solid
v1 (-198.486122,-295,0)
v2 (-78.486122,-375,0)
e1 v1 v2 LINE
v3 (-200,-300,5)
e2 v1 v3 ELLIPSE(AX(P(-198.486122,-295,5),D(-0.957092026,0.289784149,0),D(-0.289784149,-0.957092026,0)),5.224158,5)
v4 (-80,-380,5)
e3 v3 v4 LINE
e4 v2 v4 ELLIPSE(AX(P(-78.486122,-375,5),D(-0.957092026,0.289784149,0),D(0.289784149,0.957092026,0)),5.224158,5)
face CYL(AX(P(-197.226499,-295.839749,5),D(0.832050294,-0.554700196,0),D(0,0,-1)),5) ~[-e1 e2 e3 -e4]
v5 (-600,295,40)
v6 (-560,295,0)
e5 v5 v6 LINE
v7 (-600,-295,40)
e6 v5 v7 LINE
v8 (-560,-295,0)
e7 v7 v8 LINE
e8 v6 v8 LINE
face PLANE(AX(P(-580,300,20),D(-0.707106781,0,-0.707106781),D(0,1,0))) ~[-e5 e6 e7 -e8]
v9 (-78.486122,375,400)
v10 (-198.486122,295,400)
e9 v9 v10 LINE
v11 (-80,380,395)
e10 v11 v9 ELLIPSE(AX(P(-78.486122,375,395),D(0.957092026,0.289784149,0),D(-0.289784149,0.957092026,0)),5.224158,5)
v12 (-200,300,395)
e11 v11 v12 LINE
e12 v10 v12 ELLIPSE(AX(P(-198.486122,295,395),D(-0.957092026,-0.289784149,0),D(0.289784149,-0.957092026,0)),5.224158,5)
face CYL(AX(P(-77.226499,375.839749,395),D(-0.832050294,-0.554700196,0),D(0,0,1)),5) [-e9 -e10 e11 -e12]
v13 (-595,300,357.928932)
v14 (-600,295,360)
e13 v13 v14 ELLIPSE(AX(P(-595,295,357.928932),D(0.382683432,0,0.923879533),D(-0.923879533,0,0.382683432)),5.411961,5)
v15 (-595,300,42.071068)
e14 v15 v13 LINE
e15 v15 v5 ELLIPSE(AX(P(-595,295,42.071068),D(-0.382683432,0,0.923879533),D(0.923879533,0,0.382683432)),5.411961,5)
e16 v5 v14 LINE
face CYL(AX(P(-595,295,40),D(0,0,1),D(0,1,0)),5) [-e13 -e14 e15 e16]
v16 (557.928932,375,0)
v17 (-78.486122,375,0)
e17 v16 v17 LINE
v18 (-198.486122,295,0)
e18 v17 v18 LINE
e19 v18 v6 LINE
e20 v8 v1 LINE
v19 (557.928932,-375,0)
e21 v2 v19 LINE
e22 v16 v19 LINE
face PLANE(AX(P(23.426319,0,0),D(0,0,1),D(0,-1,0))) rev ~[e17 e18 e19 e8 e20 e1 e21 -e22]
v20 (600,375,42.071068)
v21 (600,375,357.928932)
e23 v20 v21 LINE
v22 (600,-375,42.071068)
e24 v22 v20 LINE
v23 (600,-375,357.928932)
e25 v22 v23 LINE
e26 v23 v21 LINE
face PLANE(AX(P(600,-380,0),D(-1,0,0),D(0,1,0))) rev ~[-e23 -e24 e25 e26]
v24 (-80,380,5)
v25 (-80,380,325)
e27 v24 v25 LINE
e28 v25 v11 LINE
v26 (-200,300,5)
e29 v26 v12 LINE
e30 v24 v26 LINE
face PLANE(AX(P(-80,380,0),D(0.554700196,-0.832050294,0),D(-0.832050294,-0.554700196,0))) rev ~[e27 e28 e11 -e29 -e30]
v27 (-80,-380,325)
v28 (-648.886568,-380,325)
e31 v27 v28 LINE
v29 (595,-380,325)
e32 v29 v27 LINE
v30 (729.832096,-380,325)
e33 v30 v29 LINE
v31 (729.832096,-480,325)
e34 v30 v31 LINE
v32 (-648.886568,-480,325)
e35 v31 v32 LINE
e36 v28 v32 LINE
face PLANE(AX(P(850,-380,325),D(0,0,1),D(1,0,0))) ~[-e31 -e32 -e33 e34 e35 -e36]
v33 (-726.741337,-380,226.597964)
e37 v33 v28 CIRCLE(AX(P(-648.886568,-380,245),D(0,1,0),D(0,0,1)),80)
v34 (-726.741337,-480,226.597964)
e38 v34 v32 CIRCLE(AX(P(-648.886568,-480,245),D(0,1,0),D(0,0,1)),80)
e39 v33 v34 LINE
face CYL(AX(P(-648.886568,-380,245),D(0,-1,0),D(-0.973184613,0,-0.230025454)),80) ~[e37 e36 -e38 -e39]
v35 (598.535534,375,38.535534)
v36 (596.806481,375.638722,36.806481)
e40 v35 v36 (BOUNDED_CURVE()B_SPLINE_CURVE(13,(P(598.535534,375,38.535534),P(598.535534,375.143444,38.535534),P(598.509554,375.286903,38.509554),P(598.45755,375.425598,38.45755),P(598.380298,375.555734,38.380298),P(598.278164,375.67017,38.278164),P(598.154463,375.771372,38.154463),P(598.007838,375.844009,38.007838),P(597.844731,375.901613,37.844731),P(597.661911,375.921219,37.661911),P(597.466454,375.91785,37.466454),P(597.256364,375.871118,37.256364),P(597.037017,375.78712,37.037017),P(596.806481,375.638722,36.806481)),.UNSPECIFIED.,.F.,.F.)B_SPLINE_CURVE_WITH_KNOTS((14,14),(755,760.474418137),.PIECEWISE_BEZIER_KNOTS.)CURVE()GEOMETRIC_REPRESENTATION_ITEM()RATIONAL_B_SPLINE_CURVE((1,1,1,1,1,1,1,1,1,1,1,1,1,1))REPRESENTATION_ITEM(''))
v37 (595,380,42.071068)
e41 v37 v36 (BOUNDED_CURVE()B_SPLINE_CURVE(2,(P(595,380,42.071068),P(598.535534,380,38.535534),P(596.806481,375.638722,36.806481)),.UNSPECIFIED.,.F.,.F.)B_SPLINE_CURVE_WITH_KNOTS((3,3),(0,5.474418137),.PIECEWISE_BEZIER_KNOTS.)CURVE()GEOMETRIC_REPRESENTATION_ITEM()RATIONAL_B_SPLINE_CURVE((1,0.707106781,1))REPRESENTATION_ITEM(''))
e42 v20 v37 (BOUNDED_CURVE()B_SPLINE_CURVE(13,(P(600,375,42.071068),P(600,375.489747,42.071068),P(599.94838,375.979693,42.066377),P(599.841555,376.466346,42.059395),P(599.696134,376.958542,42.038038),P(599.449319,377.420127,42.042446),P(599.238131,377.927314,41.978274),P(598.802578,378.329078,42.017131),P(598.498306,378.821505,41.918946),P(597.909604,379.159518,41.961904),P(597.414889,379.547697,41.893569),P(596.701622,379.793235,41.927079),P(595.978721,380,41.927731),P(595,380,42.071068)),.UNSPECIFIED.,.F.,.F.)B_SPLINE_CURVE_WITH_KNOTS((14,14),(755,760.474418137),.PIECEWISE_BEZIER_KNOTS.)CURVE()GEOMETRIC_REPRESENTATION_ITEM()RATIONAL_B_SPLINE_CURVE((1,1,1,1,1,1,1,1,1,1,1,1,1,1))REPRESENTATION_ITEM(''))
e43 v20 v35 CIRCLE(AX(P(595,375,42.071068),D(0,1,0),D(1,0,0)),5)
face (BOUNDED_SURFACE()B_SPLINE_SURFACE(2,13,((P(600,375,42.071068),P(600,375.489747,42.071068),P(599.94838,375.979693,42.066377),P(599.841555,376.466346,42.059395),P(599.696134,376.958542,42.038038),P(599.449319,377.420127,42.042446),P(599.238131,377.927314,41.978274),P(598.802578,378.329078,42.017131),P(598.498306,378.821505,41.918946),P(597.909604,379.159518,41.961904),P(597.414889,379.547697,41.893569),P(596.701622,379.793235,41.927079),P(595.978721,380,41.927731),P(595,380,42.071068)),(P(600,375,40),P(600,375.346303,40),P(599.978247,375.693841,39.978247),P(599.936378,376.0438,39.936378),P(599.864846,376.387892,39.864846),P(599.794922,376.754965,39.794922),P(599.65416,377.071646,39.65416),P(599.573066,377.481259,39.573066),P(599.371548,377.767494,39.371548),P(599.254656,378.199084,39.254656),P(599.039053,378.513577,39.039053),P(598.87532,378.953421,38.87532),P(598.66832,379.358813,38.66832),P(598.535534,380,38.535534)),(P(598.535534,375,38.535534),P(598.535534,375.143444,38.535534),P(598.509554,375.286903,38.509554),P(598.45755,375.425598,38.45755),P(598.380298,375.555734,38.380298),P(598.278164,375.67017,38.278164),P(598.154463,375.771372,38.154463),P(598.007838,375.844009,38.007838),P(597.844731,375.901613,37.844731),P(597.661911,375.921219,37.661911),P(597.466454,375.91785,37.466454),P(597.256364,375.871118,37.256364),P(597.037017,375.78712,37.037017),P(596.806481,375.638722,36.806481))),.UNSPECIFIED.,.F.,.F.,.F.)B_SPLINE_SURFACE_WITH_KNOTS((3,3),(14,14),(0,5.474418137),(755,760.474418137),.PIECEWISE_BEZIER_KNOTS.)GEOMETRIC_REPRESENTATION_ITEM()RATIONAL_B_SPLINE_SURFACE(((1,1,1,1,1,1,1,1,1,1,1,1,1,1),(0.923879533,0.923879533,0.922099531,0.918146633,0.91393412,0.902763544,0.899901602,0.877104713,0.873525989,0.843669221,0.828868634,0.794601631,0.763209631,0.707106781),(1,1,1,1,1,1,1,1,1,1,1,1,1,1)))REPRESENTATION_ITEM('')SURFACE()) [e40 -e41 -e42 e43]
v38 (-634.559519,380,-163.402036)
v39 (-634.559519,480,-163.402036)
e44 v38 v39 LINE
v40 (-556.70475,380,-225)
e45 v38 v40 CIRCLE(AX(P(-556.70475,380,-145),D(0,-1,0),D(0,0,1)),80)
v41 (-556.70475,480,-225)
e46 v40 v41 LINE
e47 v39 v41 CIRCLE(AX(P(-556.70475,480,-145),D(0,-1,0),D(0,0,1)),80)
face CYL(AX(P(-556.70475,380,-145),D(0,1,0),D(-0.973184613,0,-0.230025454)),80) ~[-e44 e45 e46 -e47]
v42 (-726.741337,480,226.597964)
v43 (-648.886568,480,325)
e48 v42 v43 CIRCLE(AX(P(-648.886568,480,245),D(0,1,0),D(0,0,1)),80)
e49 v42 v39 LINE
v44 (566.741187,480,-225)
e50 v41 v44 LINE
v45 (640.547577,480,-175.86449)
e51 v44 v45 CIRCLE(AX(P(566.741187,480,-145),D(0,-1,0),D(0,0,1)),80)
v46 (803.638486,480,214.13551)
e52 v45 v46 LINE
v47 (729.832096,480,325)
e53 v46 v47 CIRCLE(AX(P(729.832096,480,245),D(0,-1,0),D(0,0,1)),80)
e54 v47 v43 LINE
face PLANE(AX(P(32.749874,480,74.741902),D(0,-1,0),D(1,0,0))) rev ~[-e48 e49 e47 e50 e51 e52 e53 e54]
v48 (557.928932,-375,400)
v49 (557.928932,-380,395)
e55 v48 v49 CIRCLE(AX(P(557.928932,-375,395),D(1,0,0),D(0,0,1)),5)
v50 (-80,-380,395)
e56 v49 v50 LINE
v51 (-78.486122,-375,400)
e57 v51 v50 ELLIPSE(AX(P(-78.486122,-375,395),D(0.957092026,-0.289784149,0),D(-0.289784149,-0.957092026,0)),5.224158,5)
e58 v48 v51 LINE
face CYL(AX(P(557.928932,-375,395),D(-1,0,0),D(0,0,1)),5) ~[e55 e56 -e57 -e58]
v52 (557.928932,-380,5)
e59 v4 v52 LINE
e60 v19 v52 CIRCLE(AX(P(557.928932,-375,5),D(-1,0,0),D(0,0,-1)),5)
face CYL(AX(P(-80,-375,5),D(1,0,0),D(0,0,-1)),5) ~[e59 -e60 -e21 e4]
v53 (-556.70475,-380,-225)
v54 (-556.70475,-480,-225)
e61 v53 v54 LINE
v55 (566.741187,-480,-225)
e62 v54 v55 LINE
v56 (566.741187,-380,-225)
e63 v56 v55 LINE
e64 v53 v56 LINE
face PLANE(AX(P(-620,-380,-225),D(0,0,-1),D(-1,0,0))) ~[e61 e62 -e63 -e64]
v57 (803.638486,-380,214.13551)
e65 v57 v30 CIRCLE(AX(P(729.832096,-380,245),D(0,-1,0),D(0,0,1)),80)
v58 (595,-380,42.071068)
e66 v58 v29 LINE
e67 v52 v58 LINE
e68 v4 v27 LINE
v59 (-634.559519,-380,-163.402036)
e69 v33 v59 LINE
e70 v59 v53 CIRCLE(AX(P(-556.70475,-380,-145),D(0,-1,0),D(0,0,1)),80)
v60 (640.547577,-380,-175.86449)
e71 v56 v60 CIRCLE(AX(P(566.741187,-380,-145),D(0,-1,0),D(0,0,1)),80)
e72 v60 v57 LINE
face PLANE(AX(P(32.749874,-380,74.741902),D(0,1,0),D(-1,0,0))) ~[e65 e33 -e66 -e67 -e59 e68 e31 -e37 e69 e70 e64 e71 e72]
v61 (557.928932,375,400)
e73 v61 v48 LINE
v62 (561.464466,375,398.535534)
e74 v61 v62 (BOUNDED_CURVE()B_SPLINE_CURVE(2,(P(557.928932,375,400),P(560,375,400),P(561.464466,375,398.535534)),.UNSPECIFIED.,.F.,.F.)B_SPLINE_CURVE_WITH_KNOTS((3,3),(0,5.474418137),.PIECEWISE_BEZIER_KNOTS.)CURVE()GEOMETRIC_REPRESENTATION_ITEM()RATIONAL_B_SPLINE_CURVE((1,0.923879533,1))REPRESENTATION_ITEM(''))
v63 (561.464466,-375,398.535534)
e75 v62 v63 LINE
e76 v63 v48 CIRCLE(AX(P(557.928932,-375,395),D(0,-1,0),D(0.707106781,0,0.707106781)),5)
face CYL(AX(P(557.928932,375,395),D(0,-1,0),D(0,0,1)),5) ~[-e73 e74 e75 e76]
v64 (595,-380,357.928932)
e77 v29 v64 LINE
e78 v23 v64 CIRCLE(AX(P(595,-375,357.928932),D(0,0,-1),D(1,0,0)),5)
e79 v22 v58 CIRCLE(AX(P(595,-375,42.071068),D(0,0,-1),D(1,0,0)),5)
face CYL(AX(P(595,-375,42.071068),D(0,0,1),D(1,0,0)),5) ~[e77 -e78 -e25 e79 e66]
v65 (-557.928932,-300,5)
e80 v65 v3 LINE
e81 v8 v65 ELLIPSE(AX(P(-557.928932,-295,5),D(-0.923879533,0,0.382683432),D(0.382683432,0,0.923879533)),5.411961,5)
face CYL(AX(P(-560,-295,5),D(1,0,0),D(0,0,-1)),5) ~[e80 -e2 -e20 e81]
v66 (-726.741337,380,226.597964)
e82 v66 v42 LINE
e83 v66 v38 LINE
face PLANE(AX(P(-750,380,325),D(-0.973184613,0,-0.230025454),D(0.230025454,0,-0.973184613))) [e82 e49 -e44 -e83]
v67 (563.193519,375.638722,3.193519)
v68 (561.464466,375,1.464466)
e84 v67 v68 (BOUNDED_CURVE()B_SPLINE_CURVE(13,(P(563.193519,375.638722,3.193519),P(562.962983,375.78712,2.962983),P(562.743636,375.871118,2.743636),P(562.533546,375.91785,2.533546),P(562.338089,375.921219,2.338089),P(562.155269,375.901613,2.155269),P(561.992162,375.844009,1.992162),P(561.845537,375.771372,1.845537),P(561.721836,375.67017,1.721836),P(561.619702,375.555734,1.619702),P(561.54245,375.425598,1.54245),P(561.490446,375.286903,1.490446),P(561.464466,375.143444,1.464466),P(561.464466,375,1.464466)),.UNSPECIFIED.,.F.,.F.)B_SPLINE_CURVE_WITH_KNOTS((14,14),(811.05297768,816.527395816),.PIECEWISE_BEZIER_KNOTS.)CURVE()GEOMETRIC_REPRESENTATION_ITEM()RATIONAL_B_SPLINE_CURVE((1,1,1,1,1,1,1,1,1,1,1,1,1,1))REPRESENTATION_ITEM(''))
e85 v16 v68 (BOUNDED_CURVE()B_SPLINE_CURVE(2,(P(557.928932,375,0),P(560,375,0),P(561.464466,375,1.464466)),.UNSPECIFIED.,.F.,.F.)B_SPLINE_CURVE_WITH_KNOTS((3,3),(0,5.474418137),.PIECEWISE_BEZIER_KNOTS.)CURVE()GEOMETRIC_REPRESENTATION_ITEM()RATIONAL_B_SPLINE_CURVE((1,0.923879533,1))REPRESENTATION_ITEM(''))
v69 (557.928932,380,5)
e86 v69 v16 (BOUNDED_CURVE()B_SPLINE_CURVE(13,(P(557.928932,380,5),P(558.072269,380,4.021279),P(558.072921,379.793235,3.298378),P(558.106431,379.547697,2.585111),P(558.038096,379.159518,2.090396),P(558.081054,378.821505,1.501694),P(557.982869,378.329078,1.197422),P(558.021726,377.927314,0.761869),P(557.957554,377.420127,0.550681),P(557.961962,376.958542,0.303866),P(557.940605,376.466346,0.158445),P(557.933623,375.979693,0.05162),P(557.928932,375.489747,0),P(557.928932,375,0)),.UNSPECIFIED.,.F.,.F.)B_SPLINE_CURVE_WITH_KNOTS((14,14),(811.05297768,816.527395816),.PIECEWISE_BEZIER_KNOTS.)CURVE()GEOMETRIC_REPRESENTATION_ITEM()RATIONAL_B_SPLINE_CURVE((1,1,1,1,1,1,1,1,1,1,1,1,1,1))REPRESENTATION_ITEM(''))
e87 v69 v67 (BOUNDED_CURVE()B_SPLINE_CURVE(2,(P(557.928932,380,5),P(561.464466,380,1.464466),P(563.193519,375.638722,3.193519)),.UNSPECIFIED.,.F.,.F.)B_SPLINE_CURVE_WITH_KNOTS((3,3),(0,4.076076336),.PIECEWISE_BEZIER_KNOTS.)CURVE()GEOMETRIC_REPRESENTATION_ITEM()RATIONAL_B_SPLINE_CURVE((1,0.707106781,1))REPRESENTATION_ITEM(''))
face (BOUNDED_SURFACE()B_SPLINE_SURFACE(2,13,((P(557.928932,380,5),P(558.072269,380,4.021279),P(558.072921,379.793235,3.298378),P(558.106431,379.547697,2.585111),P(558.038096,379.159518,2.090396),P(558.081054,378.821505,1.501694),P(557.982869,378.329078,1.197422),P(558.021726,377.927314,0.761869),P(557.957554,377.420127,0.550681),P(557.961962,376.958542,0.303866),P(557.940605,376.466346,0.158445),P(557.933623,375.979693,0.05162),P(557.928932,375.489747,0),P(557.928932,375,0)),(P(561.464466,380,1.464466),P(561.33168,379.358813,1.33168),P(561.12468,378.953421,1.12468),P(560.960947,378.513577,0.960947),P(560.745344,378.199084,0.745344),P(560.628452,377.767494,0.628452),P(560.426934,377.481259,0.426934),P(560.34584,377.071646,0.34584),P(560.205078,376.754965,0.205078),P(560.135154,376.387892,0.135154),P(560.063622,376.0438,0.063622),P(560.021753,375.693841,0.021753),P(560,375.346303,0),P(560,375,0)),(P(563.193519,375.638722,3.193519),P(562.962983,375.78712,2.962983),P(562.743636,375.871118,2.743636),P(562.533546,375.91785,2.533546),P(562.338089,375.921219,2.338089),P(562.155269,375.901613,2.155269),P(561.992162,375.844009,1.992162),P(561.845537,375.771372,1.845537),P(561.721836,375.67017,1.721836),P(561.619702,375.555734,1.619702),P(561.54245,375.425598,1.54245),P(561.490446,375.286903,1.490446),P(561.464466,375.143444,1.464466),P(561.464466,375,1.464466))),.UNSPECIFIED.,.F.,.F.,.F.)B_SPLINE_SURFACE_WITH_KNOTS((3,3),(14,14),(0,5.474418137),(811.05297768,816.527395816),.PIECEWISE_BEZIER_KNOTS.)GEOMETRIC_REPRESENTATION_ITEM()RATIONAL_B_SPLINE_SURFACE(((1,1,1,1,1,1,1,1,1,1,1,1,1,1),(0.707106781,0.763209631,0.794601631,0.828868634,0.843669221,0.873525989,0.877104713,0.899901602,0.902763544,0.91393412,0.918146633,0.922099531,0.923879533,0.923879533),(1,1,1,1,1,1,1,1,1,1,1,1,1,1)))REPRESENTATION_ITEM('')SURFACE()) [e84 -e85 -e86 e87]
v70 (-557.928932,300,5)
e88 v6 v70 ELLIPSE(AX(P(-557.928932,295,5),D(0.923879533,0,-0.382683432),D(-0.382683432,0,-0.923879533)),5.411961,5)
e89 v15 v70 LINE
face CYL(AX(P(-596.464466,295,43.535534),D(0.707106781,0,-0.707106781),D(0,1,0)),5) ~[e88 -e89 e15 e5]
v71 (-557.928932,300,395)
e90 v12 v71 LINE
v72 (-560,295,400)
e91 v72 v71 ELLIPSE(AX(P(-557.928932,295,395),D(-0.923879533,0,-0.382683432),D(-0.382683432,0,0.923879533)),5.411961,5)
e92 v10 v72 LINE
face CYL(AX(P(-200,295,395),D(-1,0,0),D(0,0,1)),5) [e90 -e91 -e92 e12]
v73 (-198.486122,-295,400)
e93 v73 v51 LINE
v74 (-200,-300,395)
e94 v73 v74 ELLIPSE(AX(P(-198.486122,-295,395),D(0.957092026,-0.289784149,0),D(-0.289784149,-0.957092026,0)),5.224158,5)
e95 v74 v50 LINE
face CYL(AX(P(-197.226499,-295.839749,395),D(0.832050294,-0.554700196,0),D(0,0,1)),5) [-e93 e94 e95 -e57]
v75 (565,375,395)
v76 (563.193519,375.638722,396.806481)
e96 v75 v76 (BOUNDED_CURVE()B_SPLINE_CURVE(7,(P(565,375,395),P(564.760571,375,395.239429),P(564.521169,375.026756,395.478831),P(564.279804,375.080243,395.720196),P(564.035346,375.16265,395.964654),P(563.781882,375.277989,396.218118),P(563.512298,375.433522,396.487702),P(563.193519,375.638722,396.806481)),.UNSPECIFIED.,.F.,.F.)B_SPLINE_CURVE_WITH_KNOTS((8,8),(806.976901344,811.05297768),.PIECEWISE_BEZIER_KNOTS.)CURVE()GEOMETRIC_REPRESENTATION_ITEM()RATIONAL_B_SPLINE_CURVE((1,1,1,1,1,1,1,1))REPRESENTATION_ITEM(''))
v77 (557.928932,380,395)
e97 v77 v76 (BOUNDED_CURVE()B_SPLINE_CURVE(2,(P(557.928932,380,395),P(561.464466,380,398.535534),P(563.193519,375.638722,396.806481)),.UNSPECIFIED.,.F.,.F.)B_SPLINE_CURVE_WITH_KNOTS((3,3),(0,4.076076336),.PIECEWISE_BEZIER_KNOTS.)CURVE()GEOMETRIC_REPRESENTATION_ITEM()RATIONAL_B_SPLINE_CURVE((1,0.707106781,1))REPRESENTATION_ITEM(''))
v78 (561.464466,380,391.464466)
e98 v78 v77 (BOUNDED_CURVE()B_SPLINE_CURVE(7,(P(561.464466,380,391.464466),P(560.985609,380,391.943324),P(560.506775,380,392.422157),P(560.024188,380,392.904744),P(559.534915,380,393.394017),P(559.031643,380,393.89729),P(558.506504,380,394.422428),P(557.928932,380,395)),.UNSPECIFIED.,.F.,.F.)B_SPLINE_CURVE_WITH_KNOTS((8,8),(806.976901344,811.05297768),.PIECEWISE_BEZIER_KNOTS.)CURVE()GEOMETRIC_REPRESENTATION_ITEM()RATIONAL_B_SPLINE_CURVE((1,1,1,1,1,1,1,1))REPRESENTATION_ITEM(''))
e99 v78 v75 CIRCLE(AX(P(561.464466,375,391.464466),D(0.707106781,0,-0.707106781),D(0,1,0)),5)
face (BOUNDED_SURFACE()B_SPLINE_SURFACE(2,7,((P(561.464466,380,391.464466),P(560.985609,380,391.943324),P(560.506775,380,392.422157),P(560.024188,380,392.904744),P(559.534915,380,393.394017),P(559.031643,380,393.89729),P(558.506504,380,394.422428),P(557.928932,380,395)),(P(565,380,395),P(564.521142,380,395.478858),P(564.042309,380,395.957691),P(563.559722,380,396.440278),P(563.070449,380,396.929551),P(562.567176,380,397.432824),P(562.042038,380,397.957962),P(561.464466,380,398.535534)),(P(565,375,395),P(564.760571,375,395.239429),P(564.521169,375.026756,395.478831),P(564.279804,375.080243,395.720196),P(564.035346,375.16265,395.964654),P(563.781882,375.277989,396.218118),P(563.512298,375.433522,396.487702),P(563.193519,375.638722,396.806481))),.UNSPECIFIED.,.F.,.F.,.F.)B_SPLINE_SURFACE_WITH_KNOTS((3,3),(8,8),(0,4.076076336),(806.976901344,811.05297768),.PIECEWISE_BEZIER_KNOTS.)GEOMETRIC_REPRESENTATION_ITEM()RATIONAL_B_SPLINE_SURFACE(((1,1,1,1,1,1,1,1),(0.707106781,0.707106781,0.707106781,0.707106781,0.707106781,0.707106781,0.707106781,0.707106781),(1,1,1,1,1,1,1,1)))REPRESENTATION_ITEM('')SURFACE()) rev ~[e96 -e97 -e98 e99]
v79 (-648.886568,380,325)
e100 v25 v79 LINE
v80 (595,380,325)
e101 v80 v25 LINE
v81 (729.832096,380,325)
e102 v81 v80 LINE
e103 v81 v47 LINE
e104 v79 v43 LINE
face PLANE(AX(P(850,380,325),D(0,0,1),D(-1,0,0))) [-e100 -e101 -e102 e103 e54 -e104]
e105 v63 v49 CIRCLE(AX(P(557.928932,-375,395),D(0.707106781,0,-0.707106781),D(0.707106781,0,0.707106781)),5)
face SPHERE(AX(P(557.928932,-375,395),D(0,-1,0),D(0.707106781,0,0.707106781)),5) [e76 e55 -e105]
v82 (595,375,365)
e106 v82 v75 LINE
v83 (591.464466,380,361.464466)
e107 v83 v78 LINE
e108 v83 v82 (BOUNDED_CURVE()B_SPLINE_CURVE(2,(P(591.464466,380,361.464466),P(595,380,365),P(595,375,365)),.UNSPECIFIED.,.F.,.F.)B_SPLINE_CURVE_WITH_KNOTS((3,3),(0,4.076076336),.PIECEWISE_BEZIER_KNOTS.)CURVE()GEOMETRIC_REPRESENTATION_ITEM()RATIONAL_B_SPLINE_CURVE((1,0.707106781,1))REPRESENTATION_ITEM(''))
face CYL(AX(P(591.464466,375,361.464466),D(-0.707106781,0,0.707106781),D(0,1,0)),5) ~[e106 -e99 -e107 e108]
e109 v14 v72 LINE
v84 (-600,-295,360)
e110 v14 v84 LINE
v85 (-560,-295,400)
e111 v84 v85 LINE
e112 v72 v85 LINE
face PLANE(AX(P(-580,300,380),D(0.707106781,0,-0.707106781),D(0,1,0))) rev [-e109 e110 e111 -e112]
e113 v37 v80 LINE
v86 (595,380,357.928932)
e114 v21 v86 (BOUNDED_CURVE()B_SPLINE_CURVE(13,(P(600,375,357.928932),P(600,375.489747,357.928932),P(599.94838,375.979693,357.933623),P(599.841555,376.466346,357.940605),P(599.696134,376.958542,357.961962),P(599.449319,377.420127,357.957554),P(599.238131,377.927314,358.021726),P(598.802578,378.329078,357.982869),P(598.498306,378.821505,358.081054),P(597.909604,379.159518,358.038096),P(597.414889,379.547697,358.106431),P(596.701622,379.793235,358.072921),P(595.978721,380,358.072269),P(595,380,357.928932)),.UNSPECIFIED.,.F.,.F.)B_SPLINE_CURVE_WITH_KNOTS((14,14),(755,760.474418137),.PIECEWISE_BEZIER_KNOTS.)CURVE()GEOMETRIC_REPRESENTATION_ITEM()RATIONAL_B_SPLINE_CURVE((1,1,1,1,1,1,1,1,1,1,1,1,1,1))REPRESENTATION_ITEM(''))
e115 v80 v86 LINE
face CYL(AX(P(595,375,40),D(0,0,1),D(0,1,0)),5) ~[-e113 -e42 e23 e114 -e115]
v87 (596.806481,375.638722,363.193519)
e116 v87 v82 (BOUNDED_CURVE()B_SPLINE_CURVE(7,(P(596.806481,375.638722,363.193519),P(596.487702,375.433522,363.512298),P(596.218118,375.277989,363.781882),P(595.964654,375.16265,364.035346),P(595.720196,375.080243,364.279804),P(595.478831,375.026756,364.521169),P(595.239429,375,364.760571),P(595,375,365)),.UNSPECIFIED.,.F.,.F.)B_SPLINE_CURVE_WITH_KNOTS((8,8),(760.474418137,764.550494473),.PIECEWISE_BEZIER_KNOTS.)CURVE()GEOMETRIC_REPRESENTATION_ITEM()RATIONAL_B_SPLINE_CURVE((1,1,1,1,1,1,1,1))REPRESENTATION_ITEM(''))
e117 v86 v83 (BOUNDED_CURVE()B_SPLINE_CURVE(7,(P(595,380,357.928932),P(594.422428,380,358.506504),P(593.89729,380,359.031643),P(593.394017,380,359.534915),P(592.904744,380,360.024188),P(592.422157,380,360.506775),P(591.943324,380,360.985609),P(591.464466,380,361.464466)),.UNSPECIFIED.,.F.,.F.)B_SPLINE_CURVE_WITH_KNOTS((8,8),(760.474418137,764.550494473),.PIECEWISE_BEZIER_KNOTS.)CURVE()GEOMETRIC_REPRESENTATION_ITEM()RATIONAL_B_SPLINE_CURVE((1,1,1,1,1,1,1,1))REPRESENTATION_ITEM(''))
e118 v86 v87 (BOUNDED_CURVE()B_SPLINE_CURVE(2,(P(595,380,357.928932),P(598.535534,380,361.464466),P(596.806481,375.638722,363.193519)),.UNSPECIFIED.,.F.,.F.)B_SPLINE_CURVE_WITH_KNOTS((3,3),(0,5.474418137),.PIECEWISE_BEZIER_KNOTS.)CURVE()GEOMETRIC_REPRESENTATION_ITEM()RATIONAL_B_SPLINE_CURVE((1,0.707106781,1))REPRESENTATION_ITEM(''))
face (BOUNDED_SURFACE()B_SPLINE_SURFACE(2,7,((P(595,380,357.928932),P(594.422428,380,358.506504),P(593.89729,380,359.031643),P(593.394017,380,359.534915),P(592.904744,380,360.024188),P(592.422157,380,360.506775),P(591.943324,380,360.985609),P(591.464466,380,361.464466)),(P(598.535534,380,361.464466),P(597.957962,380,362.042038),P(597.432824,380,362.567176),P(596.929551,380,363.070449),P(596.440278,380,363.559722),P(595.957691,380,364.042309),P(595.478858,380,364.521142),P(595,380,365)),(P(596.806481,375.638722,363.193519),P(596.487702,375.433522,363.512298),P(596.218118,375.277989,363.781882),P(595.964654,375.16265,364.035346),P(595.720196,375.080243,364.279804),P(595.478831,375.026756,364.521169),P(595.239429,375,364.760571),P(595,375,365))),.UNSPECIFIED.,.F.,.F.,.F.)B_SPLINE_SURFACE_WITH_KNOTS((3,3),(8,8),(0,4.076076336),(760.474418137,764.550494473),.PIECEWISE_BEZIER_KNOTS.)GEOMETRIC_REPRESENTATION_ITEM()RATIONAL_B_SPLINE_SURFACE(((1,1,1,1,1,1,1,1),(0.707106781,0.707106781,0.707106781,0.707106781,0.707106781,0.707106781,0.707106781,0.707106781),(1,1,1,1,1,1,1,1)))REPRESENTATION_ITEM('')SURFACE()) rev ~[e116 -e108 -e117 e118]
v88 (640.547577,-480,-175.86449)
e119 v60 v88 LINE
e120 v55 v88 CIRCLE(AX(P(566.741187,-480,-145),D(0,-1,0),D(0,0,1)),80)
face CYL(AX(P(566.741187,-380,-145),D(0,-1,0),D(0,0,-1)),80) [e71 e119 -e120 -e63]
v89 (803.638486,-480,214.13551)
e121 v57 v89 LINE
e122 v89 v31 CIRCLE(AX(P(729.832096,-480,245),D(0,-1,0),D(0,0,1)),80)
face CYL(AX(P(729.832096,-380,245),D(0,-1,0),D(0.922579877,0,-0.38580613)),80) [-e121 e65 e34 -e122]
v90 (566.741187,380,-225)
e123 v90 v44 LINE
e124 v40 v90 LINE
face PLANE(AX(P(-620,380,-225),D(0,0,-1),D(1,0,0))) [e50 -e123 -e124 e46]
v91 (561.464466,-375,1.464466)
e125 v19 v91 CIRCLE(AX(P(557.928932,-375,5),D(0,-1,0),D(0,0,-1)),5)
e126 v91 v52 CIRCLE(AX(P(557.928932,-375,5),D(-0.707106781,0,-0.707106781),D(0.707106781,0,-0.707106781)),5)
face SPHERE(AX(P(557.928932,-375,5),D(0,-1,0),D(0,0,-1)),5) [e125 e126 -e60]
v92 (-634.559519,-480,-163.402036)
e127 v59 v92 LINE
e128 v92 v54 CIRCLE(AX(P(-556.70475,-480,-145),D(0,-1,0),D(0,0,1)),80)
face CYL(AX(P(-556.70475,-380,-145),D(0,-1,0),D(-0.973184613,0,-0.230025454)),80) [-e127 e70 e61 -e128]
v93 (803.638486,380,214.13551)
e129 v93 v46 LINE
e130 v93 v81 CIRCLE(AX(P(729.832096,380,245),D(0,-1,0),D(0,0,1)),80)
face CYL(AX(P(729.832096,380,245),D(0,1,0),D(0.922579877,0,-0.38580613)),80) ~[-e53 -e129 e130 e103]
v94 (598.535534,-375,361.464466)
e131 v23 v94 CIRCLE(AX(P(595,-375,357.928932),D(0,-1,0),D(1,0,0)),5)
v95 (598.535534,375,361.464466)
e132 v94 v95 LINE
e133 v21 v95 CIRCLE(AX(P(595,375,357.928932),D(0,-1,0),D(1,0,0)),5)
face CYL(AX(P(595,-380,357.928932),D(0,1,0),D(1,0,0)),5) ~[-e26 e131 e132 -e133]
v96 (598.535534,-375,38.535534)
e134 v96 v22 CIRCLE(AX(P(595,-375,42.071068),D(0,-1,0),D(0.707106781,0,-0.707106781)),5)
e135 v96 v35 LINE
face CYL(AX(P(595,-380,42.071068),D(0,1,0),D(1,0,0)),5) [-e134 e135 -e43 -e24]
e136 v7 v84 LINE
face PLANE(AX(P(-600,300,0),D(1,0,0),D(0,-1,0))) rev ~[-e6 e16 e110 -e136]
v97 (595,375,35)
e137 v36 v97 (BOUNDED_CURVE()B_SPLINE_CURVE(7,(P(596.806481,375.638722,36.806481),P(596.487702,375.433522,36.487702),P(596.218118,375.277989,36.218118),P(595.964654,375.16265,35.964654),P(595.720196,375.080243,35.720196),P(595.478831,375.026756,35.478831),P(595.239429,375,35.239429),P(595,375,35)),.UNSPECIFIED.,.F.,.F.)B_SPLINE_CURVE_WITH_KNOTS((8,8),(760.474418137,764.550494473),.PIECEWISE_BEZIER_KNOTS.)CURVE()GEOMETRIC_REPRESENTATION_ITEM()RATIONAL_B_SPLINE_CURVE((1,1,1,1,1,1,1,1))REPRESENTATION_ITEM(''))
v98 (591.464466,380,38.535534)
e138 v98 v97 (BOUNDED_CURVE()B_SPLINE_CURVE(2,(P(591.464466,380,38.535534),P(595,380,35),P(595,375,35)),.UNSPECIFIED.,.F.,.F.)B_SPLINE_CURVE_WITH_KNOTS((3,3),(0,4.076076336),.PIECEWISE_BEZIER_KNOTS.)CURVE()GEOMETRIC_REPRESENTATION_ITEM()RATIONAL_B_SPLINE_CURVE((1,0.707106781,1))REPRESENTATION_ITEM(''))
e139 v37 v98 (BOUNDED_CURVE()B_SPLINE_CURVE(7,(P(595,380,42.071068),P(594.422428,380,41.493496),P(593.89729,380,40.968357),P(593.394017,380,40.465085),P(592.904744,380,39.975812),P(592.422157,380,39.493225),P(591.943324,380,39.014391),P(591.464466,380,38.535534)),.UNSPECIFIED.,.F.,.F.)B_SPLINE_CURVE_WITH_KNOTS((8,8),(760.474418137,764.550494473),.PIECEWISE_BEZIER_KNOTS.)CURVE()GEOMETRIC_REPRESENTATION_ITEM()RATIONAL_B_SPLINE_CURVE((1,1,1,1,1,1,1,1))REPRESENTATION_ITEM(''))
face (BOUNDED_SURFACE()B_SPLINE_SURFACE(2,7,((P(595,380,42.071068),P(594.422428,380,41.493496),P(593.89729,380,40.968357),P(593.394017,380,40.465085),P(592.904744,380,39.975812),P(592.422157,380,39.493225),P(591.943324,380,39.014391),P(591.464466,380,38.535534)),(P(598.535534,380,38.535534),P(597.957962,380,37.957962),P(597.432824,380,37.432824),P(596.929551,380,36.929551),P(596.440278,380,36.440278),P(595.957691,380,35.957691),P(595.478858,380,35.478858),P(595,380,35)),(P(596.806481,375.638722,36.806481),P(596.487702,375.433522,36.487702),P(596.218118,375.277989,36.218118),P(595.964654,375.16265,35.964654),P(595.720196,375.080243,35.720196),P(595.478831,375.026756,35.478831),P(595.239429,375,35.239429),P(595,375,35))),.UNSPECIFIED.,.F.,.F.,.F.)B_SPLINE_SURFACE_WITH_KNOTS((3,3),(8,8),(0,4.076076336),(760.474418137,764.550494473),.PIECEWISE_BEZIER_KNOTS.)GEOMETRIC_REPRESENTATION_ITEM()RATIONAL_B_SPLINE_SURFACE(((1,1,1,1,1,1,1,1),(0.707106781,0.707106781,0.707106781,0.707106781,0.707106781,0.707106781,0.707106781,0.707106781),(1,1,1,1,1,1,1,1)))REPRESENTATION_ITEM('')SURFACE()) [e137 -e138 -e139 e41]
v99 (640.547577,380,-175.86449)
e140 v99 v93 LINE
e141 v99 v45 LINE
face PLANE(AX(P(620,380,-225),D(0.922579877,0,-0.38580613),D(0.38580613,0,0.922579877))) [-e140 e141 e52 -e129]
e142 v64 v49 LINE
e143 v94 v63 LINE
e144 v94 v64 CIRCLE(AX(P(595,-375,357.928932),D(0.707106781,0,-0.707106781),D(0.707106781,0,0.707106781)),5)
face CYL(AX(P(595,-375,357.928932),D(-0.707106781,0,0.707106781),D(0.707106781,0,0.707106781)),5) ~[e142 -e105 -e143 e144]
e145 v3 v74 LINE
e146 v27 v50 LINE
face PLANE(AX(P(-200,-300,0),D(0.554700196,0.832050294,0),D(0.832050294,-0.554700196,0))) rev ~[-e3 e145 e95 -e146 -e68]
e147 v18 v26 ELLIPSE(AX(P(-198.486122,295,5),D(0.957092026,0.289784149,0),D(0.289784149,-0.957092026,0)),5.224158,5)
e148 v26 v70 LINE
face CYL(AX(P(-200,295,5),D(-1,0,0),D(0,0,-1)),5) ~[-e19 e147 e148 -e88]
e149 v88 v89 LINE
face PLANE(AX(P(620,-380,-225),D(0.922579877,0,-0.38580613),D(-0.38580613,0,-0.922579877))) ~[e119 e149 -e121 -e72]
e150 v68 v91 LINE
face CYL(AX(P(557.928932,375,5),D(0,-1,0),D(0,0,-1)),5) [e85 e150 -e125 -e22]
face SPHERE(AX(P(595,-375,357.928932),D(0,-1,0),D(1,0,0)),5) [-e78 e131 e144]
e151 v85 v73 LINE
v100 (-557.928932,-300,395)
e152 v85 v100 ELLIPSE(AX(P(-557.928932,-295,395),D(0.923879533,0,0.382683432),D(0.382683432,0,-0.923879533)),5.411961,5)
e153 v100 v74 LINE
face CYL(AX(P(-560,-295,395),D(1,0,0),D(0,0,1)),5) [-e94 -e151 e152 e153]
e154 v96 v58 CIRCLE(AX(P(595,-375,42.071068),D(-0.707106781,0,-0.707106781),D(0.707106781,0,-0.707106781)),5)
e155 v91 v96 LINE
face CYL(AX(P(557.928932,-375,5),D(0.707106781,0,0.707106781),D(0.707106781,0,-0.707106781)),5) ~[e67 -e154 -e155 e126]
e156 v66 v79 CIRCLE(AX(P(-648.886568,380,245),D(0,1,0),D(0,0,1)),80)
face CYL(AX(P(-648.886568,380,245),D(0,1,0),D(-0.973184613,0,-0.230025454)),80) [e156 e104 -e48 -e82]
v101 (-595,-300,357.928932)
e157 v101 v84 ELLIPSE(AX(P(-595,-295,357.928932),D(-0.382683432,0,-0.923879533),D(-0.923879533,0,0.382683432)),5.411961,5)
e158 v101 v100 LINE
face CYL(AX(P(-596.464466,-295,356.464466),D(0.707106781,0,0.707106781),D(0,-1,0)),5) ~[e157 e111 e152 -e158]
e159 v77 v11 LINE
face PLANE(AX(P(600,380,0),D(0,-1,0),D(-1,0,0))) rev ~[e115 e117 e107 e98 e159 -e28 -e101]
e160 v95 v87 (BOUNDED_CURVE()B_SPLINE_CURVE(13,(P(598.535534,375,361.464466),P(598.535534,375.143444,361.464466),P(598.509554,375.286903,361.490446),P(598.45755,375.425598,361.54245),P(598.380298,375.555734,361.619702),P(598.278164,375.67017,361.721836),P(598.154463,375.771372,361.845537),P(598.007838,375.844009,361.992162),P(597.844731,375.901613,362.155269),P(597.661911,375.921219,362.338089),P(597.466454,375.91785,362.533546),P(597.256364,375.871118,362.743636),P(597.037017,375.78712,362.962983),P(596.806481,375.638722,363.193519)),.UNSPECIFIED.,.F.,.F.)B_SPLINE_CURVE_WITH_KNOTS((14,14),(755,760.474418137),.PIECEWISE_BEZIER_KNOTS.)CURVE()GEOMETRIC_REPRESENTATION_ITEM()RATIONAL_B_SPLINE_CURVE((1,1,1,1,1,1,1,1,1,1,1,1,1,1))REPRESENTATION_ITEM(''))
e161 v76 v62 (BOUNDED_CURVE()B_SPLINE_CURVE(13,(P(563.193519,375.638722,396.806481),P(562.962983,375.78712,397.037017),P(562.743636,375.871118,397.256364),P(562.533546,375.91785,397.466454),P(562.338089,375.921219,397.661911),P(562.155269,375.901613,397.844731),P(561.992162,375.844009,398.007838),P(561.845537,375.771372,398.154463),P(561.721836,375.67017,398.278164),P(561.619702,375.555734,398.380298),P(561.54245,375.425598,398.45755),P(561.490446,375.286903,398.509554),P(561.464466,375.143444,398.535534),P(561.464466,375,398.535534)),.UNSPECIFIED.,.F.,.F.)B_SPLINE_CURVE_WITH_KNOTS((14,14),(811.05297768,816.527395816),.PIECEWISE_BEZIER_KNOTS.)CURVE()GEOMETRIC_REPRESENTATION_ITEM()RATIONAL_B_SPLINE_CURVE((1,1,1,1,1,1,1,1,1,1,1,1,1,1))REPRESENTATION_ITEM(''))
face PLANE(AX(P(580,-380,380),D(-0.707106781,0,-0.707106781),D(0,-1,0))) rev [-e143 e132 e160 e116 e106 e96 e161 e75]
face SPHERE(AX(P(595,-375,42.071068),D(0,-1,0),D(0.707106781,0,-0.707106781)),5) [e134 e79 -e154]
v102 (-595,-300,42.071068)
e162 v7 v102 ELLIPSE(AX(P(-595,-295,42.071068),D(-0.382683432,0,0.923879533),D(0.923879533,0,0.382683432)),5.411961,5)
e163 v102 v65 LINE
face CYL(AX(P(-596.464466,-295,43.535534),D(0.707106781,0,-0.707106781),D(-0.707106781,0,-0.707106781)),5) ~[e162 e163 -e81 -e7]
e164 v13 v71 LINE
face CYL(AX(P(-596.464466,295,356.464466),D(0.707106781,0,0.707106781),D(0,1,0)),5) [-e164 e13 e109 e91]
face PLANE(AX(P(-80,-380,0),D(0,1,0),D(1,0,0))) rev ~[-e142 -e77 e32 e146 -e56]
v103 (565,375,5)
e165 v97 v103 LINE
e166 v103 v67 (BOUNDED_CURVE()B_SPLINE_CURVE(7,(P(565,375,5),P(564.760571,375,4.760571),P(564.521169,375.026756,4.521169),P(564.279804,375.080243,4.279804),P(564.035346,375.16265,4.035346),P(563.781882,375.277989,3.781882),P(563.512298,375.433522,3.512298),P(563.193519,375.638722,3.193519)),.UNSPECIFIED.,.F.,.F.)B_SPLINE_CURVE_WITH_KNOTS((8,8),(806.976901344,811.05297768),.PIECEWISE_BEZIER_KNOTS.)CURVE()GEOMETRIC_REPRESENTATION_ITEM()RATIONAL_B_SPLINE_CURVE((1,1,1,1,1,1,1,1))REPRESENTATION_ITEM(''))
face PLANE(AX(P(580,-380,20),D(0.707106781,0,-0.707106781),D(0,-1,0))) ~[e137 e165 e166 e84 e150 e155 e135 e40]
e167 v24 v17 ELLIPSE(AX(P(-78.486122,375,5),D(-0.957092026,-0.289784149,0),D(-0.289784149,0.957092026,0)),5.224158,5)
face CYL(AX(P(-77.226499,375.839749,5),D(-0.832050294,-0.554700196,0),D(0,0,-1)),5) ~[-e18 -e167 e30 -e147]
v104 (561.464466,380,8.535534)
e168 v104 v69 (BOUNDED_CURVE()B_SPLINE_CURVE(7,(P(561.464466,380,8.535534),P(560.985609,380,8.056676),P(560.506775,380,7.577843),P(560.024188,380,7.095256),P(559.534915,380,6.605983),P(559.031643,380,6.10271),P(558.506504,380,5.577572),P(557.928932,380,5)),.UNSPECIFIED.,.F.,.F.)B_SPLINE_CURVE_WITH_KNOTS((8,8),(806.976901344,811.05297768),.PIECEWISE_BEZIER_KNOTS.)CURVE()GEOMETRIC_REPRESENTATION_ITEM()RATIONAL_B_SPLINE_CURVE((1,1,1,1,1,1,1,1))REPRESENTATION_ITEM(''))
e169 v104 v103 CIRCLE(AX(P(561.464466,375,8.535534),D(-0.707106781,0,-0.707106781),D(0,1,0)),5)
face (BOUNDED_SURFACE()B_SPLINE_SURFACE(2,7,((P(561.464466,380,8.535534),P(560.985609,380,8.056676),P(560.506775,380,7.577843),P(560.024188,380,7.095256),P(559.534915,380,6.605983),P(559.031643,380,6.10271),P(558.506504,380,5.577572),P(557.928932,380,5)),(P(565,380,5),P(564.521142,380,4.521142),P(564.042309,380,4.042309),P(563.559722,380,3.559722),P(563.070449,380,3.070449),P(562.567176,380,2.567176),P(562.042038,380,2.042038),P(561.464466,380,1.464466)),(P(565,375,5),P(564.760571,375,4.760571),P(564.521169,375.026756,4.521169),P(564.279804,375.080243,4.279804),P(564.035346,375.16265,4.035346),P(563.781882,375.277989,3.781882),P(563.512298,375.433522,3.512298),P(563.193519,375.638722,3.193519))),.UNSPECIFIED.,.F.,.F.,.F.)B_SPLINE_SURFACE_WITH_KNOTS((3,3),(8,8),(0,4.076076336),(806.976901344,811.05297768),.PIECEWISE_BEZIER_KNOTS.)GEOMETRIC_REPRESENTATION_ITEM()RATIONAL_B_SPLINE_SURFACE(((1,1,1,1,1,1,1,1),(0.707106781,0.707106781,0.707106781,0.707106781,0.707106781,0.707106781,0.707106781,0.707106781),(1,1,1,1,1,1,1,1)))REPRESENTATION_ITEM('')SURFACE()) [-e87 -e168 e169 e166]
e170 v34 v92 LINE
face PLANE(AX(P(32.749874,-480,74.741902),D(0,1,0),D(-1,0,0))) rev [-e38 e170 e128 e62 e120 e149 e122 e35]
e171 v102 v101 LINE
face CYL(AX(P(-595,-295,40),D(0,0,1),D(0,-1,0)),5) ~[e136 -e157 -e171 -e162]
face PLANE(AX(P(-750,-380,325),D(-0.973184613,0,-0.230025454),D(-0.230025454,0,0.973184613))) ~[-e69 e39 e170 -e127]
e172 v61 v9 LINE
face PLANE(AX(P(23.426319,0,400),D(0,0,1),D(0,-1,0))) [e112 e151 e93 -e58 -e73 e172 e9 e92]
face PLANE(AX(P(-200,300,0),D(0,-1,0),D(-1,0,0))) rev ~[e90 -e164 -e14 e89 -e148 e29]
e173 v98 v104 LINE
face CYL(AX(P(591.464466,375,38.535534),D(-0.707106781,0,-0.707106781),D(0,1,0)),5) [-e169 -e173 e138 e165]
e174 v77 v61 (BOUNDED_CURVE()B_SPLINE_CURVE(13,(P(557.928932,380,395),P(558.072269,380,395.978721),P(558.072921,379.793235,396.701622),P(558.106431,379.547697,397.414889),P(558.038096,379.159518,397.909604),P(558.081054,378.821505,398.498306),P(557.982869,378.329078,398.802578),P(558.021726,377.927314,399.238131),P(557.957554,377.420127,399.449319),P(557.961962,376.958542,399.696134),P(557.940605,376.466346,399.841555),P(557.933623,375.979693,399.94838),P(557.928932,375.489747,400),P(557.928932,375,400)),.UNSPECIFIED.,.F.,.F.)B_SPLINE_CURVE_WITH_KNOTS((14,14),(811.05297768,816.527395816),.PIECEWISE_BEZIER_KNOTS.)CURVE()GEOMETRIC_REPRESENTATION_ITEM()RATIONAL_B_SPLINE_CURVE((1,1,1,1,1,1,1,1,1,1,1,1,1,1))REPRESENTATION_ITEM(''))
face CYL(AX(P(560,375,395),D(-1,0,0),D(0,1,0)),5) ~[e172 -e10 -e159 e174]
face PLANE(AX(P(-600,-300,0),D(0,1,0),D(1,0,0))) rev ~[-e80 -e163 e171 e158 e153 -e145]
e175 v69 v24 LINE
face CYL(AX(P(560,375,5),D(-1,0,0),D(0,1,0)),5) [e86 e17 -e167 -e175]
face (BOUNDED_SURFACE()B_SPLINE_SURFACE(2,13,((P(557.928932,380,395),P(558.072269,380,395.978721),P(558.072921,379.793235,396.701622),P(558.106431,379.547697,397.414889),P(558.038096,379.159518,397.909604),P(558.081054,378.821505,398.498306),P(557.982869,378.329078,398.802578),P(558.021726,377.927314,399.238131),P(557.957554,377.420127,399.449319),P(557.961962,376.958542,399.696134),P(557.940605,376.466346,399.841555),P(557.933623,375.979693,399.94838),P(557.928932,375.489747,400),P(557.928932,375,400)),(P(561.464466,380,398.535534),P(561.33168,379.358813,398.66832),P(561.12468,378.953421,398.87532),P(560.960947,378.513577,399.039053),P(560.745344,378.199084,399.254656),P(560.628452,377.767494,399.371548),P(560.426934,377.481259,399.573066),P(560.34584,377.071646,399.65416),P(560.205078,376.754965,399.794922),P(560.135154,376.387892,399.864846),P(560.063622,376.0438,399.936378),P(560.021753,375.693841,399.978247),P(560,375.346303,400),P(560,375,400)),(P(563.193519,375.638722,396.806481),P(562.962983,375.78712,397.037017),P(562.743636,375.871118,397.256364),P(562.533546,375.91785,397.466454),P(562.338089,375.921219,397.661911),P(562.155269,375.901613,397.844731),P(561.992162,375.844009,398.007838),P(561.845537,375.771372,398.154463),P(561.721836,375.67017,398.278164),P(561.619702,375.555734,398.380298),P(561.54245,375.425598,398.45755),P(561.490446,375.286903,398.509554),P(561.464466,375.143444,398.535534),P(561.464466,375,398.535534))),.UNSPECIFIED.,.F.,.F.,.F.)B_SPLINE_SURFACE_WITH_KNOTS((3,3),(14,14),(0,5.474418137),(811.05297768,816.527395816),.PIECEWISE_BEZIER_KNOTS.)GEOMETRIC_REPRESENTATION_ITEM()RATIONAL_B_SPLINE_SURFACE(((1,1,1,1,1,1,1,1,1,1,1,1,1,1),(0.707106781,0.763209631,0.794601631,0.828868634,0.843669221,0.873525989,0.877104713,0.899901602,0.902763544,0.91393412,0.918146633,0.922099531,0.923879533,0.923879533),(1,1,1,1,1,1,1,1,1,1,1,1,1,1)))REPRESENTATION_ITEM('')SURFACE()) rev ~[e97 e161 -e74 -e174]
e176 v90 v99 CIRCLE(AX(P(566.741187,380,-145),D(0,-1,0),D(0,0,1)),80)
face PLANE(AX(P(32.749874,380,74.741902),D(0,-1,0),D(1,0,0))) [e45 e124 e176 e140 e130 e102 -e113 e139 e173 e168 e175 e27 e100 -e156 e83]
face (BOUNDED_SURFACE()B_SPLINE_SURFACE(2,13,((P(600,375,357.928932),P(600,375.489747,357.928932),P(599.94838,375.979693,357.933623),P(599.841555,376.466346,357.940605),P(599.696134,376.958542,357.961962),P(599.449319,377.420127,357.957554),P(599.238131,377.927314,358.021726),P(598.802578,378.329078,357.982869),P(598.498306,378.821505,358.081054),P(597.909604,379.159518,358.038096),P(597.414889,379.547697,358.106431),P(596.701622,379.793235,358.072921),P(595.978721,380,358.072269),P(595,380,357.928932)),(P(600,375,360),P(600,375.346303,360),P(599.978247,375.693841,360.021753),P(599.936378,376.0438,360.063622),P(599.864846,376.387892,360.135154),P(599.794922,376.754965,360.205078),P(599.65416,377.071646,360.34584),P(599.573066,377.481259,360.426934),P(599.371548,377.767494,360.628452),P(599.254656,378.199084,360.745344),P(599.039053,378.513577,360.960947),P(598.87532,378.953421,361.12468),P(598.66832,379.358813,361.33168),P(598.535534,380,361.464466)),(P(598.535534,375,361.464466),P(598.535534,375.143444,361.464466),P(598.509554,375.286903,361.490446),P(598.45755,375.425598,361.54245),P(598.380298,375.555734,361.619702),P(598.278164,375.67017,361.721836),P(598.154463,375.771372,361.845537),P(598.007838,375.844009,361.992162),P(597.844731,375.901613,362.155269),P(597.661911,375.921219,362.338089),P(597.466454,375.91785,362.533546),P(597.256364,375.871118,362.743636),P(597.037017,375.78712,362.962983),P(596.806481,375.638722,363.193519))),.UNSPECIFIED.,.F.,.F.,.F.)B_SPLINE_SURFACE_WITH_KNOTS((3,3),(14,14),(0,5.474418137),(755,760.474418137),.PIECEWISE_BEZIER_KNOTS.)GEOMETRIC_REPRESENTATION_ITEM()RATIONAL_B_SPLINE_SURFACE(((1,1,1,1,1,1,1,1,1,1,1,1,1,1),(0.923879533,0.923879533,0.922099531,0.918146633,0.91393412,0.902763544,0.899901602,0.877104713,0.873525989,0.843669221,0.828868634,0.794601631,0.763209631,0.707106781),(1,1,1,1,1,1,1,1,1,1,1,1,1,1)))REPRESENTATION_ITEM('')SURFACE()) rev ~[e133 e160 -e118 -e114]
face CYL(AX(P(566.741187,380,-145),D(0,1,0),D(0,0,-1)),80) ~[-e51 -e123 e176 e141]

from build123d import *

# Parameters (mm, degrees)
EXTRUDE001_DEPTH                     = 100
EXTRUDE001_ONTO_SKETCH001_ROLL_ANGLE = 90
FILLET003_R                          = 80
FILLET003_PLACEMENT_ANGLE            = 90
EXTRUDE_DEPTH                        = 400
CHAMFER_SIZE                         = 40
FILLET_R                             = 5
FILLET001_R                          = 5
FILLET002_R                          = 5
FUSION001_PLACEMENT_ANGLE            = -90


with BuildPart() as pas001:
    # Sketch001 as drawn → Extrude001 (new)
    with BuildSketch(Plane.XY):
        Polygon((-750, 325), (-620, -225), (620, -225), (850, 325), align=None)
    extrude(amount=-EXTRUDE001_DEPTH)


with BuildPart() as pas001_1:
    # Extrude001 onto Sketch001 roll: moved
    add(pas001.part.rotate(Axis((0, 0, 0), (1, 0, 0)), EXTRUDE001_ONTO_SKETCH001_ROLL_ANGLE))


with BuildPart() as pas001_2:
    # Extrude001 onto Sketch001 placement: moved
    add(pas001_1.part)

    # Fillet003
    fillet003_edges = [pas001_2.edges().sort_by_distance(p)[0] for p in [
        (-750, 50, 325),
        (-620, 50, -225),
        (620, 50, -225),
        (850, 50, 325),
    ]]
    fillet(fillet003_edges, radius=FILLET003_R)


with BuildPart() as pas001_3:
    # Fillet003 placement: moved
    add(pas001_2.part.moved(Location((-380, 0, 0))).rotate(Axis((-380, 0, 0), (0, 0, 1)), FILLET003_PLACEMENT_ANGLE))


with BuildPart() as fusion:
    # Sketch → Extrude (new body)
    with BuildSketch(Plane.XY):
        Polygon((-380, 600), (-380, -80), (-300, -200), (-300, -600), (300, -600), (300, -200), (380, -80), (380, 600), align=None)
    extrude(amount=EXTRUDE_DEPTH)

    # Chamfer
    chamfer_edges = [fusion.edges().sort_by_distance(p)[0] for p in [
        (0, -600, 0),
        (0, -600, 400),
        (0, 600, 0),
        (0, 600, 400),
    ]]
    chamfer(chamfer_edges, length=CHAMFER_SIZE)

    # Fillet
    fillet_edges = [fusion.edges().sort_by_distance(p)[0] for p in [
        (-380, 600, 200),
        (-380, 240, 0),
        (-380, 240, 400),
        (-340, -140, 0),
        (-300, -380, 0),
        (-340, -140, 400),
        (-300, -380, 400),
        (-300, -600, 200),
        (-300, -580, 20),
        (-300, -580, 380),
    ]]
    fillet(fillet_edges, radius=FILLET_R)

    # Fillet001
    fillet001_edges = [fusion.edges().sort_by_distance(p)[0] for p in [
        (-380, 580, 20),
        (-380, 580, 380),
    ]]
    fillet(fillet001_edges, radius=FILLET001_R)

    # Fillet002
    fillet002_edges = [fusion.edges().sort_by_distance(p)[0] for p in [
        (380, 600, 200),
        (380, 580, 20),
        (380, 580, 380),
        (380, 238.964466, 0),
        (340, -140, 0),
        (300, -380, 0),
        (380, 238.964466, 400),
        (340, -140, 400),
        (300, -380, 400),
        (300, -580, 20),
        (300, -600, 200),
        (300, -580, 380),
    ]]
    fillet(fillet002_edges, radius=FILLET002_R)

    # Fusion: union Pas001
    add(pas001_3.part)


with BuildPart() as robotruda:
    # Part__Mirroring: instance of Pas001
    add(pas001_3.part.mirror(Plane(origin=(0, 0, 0), x_dir=(0, -1, 0), z_dir=(1, 0, 0))))

    # Fusion001: union Fusion
    add(fusion.part)


with BuildPart() as robotruda_1:
    # Fusion001 placement: moved
    add(robotruda.part.rotate(Axis((0, 0, 0), (0, 0, 1)), FUSION001_PLACEMENT_ANGLE))


solid = robotruda_1.part
